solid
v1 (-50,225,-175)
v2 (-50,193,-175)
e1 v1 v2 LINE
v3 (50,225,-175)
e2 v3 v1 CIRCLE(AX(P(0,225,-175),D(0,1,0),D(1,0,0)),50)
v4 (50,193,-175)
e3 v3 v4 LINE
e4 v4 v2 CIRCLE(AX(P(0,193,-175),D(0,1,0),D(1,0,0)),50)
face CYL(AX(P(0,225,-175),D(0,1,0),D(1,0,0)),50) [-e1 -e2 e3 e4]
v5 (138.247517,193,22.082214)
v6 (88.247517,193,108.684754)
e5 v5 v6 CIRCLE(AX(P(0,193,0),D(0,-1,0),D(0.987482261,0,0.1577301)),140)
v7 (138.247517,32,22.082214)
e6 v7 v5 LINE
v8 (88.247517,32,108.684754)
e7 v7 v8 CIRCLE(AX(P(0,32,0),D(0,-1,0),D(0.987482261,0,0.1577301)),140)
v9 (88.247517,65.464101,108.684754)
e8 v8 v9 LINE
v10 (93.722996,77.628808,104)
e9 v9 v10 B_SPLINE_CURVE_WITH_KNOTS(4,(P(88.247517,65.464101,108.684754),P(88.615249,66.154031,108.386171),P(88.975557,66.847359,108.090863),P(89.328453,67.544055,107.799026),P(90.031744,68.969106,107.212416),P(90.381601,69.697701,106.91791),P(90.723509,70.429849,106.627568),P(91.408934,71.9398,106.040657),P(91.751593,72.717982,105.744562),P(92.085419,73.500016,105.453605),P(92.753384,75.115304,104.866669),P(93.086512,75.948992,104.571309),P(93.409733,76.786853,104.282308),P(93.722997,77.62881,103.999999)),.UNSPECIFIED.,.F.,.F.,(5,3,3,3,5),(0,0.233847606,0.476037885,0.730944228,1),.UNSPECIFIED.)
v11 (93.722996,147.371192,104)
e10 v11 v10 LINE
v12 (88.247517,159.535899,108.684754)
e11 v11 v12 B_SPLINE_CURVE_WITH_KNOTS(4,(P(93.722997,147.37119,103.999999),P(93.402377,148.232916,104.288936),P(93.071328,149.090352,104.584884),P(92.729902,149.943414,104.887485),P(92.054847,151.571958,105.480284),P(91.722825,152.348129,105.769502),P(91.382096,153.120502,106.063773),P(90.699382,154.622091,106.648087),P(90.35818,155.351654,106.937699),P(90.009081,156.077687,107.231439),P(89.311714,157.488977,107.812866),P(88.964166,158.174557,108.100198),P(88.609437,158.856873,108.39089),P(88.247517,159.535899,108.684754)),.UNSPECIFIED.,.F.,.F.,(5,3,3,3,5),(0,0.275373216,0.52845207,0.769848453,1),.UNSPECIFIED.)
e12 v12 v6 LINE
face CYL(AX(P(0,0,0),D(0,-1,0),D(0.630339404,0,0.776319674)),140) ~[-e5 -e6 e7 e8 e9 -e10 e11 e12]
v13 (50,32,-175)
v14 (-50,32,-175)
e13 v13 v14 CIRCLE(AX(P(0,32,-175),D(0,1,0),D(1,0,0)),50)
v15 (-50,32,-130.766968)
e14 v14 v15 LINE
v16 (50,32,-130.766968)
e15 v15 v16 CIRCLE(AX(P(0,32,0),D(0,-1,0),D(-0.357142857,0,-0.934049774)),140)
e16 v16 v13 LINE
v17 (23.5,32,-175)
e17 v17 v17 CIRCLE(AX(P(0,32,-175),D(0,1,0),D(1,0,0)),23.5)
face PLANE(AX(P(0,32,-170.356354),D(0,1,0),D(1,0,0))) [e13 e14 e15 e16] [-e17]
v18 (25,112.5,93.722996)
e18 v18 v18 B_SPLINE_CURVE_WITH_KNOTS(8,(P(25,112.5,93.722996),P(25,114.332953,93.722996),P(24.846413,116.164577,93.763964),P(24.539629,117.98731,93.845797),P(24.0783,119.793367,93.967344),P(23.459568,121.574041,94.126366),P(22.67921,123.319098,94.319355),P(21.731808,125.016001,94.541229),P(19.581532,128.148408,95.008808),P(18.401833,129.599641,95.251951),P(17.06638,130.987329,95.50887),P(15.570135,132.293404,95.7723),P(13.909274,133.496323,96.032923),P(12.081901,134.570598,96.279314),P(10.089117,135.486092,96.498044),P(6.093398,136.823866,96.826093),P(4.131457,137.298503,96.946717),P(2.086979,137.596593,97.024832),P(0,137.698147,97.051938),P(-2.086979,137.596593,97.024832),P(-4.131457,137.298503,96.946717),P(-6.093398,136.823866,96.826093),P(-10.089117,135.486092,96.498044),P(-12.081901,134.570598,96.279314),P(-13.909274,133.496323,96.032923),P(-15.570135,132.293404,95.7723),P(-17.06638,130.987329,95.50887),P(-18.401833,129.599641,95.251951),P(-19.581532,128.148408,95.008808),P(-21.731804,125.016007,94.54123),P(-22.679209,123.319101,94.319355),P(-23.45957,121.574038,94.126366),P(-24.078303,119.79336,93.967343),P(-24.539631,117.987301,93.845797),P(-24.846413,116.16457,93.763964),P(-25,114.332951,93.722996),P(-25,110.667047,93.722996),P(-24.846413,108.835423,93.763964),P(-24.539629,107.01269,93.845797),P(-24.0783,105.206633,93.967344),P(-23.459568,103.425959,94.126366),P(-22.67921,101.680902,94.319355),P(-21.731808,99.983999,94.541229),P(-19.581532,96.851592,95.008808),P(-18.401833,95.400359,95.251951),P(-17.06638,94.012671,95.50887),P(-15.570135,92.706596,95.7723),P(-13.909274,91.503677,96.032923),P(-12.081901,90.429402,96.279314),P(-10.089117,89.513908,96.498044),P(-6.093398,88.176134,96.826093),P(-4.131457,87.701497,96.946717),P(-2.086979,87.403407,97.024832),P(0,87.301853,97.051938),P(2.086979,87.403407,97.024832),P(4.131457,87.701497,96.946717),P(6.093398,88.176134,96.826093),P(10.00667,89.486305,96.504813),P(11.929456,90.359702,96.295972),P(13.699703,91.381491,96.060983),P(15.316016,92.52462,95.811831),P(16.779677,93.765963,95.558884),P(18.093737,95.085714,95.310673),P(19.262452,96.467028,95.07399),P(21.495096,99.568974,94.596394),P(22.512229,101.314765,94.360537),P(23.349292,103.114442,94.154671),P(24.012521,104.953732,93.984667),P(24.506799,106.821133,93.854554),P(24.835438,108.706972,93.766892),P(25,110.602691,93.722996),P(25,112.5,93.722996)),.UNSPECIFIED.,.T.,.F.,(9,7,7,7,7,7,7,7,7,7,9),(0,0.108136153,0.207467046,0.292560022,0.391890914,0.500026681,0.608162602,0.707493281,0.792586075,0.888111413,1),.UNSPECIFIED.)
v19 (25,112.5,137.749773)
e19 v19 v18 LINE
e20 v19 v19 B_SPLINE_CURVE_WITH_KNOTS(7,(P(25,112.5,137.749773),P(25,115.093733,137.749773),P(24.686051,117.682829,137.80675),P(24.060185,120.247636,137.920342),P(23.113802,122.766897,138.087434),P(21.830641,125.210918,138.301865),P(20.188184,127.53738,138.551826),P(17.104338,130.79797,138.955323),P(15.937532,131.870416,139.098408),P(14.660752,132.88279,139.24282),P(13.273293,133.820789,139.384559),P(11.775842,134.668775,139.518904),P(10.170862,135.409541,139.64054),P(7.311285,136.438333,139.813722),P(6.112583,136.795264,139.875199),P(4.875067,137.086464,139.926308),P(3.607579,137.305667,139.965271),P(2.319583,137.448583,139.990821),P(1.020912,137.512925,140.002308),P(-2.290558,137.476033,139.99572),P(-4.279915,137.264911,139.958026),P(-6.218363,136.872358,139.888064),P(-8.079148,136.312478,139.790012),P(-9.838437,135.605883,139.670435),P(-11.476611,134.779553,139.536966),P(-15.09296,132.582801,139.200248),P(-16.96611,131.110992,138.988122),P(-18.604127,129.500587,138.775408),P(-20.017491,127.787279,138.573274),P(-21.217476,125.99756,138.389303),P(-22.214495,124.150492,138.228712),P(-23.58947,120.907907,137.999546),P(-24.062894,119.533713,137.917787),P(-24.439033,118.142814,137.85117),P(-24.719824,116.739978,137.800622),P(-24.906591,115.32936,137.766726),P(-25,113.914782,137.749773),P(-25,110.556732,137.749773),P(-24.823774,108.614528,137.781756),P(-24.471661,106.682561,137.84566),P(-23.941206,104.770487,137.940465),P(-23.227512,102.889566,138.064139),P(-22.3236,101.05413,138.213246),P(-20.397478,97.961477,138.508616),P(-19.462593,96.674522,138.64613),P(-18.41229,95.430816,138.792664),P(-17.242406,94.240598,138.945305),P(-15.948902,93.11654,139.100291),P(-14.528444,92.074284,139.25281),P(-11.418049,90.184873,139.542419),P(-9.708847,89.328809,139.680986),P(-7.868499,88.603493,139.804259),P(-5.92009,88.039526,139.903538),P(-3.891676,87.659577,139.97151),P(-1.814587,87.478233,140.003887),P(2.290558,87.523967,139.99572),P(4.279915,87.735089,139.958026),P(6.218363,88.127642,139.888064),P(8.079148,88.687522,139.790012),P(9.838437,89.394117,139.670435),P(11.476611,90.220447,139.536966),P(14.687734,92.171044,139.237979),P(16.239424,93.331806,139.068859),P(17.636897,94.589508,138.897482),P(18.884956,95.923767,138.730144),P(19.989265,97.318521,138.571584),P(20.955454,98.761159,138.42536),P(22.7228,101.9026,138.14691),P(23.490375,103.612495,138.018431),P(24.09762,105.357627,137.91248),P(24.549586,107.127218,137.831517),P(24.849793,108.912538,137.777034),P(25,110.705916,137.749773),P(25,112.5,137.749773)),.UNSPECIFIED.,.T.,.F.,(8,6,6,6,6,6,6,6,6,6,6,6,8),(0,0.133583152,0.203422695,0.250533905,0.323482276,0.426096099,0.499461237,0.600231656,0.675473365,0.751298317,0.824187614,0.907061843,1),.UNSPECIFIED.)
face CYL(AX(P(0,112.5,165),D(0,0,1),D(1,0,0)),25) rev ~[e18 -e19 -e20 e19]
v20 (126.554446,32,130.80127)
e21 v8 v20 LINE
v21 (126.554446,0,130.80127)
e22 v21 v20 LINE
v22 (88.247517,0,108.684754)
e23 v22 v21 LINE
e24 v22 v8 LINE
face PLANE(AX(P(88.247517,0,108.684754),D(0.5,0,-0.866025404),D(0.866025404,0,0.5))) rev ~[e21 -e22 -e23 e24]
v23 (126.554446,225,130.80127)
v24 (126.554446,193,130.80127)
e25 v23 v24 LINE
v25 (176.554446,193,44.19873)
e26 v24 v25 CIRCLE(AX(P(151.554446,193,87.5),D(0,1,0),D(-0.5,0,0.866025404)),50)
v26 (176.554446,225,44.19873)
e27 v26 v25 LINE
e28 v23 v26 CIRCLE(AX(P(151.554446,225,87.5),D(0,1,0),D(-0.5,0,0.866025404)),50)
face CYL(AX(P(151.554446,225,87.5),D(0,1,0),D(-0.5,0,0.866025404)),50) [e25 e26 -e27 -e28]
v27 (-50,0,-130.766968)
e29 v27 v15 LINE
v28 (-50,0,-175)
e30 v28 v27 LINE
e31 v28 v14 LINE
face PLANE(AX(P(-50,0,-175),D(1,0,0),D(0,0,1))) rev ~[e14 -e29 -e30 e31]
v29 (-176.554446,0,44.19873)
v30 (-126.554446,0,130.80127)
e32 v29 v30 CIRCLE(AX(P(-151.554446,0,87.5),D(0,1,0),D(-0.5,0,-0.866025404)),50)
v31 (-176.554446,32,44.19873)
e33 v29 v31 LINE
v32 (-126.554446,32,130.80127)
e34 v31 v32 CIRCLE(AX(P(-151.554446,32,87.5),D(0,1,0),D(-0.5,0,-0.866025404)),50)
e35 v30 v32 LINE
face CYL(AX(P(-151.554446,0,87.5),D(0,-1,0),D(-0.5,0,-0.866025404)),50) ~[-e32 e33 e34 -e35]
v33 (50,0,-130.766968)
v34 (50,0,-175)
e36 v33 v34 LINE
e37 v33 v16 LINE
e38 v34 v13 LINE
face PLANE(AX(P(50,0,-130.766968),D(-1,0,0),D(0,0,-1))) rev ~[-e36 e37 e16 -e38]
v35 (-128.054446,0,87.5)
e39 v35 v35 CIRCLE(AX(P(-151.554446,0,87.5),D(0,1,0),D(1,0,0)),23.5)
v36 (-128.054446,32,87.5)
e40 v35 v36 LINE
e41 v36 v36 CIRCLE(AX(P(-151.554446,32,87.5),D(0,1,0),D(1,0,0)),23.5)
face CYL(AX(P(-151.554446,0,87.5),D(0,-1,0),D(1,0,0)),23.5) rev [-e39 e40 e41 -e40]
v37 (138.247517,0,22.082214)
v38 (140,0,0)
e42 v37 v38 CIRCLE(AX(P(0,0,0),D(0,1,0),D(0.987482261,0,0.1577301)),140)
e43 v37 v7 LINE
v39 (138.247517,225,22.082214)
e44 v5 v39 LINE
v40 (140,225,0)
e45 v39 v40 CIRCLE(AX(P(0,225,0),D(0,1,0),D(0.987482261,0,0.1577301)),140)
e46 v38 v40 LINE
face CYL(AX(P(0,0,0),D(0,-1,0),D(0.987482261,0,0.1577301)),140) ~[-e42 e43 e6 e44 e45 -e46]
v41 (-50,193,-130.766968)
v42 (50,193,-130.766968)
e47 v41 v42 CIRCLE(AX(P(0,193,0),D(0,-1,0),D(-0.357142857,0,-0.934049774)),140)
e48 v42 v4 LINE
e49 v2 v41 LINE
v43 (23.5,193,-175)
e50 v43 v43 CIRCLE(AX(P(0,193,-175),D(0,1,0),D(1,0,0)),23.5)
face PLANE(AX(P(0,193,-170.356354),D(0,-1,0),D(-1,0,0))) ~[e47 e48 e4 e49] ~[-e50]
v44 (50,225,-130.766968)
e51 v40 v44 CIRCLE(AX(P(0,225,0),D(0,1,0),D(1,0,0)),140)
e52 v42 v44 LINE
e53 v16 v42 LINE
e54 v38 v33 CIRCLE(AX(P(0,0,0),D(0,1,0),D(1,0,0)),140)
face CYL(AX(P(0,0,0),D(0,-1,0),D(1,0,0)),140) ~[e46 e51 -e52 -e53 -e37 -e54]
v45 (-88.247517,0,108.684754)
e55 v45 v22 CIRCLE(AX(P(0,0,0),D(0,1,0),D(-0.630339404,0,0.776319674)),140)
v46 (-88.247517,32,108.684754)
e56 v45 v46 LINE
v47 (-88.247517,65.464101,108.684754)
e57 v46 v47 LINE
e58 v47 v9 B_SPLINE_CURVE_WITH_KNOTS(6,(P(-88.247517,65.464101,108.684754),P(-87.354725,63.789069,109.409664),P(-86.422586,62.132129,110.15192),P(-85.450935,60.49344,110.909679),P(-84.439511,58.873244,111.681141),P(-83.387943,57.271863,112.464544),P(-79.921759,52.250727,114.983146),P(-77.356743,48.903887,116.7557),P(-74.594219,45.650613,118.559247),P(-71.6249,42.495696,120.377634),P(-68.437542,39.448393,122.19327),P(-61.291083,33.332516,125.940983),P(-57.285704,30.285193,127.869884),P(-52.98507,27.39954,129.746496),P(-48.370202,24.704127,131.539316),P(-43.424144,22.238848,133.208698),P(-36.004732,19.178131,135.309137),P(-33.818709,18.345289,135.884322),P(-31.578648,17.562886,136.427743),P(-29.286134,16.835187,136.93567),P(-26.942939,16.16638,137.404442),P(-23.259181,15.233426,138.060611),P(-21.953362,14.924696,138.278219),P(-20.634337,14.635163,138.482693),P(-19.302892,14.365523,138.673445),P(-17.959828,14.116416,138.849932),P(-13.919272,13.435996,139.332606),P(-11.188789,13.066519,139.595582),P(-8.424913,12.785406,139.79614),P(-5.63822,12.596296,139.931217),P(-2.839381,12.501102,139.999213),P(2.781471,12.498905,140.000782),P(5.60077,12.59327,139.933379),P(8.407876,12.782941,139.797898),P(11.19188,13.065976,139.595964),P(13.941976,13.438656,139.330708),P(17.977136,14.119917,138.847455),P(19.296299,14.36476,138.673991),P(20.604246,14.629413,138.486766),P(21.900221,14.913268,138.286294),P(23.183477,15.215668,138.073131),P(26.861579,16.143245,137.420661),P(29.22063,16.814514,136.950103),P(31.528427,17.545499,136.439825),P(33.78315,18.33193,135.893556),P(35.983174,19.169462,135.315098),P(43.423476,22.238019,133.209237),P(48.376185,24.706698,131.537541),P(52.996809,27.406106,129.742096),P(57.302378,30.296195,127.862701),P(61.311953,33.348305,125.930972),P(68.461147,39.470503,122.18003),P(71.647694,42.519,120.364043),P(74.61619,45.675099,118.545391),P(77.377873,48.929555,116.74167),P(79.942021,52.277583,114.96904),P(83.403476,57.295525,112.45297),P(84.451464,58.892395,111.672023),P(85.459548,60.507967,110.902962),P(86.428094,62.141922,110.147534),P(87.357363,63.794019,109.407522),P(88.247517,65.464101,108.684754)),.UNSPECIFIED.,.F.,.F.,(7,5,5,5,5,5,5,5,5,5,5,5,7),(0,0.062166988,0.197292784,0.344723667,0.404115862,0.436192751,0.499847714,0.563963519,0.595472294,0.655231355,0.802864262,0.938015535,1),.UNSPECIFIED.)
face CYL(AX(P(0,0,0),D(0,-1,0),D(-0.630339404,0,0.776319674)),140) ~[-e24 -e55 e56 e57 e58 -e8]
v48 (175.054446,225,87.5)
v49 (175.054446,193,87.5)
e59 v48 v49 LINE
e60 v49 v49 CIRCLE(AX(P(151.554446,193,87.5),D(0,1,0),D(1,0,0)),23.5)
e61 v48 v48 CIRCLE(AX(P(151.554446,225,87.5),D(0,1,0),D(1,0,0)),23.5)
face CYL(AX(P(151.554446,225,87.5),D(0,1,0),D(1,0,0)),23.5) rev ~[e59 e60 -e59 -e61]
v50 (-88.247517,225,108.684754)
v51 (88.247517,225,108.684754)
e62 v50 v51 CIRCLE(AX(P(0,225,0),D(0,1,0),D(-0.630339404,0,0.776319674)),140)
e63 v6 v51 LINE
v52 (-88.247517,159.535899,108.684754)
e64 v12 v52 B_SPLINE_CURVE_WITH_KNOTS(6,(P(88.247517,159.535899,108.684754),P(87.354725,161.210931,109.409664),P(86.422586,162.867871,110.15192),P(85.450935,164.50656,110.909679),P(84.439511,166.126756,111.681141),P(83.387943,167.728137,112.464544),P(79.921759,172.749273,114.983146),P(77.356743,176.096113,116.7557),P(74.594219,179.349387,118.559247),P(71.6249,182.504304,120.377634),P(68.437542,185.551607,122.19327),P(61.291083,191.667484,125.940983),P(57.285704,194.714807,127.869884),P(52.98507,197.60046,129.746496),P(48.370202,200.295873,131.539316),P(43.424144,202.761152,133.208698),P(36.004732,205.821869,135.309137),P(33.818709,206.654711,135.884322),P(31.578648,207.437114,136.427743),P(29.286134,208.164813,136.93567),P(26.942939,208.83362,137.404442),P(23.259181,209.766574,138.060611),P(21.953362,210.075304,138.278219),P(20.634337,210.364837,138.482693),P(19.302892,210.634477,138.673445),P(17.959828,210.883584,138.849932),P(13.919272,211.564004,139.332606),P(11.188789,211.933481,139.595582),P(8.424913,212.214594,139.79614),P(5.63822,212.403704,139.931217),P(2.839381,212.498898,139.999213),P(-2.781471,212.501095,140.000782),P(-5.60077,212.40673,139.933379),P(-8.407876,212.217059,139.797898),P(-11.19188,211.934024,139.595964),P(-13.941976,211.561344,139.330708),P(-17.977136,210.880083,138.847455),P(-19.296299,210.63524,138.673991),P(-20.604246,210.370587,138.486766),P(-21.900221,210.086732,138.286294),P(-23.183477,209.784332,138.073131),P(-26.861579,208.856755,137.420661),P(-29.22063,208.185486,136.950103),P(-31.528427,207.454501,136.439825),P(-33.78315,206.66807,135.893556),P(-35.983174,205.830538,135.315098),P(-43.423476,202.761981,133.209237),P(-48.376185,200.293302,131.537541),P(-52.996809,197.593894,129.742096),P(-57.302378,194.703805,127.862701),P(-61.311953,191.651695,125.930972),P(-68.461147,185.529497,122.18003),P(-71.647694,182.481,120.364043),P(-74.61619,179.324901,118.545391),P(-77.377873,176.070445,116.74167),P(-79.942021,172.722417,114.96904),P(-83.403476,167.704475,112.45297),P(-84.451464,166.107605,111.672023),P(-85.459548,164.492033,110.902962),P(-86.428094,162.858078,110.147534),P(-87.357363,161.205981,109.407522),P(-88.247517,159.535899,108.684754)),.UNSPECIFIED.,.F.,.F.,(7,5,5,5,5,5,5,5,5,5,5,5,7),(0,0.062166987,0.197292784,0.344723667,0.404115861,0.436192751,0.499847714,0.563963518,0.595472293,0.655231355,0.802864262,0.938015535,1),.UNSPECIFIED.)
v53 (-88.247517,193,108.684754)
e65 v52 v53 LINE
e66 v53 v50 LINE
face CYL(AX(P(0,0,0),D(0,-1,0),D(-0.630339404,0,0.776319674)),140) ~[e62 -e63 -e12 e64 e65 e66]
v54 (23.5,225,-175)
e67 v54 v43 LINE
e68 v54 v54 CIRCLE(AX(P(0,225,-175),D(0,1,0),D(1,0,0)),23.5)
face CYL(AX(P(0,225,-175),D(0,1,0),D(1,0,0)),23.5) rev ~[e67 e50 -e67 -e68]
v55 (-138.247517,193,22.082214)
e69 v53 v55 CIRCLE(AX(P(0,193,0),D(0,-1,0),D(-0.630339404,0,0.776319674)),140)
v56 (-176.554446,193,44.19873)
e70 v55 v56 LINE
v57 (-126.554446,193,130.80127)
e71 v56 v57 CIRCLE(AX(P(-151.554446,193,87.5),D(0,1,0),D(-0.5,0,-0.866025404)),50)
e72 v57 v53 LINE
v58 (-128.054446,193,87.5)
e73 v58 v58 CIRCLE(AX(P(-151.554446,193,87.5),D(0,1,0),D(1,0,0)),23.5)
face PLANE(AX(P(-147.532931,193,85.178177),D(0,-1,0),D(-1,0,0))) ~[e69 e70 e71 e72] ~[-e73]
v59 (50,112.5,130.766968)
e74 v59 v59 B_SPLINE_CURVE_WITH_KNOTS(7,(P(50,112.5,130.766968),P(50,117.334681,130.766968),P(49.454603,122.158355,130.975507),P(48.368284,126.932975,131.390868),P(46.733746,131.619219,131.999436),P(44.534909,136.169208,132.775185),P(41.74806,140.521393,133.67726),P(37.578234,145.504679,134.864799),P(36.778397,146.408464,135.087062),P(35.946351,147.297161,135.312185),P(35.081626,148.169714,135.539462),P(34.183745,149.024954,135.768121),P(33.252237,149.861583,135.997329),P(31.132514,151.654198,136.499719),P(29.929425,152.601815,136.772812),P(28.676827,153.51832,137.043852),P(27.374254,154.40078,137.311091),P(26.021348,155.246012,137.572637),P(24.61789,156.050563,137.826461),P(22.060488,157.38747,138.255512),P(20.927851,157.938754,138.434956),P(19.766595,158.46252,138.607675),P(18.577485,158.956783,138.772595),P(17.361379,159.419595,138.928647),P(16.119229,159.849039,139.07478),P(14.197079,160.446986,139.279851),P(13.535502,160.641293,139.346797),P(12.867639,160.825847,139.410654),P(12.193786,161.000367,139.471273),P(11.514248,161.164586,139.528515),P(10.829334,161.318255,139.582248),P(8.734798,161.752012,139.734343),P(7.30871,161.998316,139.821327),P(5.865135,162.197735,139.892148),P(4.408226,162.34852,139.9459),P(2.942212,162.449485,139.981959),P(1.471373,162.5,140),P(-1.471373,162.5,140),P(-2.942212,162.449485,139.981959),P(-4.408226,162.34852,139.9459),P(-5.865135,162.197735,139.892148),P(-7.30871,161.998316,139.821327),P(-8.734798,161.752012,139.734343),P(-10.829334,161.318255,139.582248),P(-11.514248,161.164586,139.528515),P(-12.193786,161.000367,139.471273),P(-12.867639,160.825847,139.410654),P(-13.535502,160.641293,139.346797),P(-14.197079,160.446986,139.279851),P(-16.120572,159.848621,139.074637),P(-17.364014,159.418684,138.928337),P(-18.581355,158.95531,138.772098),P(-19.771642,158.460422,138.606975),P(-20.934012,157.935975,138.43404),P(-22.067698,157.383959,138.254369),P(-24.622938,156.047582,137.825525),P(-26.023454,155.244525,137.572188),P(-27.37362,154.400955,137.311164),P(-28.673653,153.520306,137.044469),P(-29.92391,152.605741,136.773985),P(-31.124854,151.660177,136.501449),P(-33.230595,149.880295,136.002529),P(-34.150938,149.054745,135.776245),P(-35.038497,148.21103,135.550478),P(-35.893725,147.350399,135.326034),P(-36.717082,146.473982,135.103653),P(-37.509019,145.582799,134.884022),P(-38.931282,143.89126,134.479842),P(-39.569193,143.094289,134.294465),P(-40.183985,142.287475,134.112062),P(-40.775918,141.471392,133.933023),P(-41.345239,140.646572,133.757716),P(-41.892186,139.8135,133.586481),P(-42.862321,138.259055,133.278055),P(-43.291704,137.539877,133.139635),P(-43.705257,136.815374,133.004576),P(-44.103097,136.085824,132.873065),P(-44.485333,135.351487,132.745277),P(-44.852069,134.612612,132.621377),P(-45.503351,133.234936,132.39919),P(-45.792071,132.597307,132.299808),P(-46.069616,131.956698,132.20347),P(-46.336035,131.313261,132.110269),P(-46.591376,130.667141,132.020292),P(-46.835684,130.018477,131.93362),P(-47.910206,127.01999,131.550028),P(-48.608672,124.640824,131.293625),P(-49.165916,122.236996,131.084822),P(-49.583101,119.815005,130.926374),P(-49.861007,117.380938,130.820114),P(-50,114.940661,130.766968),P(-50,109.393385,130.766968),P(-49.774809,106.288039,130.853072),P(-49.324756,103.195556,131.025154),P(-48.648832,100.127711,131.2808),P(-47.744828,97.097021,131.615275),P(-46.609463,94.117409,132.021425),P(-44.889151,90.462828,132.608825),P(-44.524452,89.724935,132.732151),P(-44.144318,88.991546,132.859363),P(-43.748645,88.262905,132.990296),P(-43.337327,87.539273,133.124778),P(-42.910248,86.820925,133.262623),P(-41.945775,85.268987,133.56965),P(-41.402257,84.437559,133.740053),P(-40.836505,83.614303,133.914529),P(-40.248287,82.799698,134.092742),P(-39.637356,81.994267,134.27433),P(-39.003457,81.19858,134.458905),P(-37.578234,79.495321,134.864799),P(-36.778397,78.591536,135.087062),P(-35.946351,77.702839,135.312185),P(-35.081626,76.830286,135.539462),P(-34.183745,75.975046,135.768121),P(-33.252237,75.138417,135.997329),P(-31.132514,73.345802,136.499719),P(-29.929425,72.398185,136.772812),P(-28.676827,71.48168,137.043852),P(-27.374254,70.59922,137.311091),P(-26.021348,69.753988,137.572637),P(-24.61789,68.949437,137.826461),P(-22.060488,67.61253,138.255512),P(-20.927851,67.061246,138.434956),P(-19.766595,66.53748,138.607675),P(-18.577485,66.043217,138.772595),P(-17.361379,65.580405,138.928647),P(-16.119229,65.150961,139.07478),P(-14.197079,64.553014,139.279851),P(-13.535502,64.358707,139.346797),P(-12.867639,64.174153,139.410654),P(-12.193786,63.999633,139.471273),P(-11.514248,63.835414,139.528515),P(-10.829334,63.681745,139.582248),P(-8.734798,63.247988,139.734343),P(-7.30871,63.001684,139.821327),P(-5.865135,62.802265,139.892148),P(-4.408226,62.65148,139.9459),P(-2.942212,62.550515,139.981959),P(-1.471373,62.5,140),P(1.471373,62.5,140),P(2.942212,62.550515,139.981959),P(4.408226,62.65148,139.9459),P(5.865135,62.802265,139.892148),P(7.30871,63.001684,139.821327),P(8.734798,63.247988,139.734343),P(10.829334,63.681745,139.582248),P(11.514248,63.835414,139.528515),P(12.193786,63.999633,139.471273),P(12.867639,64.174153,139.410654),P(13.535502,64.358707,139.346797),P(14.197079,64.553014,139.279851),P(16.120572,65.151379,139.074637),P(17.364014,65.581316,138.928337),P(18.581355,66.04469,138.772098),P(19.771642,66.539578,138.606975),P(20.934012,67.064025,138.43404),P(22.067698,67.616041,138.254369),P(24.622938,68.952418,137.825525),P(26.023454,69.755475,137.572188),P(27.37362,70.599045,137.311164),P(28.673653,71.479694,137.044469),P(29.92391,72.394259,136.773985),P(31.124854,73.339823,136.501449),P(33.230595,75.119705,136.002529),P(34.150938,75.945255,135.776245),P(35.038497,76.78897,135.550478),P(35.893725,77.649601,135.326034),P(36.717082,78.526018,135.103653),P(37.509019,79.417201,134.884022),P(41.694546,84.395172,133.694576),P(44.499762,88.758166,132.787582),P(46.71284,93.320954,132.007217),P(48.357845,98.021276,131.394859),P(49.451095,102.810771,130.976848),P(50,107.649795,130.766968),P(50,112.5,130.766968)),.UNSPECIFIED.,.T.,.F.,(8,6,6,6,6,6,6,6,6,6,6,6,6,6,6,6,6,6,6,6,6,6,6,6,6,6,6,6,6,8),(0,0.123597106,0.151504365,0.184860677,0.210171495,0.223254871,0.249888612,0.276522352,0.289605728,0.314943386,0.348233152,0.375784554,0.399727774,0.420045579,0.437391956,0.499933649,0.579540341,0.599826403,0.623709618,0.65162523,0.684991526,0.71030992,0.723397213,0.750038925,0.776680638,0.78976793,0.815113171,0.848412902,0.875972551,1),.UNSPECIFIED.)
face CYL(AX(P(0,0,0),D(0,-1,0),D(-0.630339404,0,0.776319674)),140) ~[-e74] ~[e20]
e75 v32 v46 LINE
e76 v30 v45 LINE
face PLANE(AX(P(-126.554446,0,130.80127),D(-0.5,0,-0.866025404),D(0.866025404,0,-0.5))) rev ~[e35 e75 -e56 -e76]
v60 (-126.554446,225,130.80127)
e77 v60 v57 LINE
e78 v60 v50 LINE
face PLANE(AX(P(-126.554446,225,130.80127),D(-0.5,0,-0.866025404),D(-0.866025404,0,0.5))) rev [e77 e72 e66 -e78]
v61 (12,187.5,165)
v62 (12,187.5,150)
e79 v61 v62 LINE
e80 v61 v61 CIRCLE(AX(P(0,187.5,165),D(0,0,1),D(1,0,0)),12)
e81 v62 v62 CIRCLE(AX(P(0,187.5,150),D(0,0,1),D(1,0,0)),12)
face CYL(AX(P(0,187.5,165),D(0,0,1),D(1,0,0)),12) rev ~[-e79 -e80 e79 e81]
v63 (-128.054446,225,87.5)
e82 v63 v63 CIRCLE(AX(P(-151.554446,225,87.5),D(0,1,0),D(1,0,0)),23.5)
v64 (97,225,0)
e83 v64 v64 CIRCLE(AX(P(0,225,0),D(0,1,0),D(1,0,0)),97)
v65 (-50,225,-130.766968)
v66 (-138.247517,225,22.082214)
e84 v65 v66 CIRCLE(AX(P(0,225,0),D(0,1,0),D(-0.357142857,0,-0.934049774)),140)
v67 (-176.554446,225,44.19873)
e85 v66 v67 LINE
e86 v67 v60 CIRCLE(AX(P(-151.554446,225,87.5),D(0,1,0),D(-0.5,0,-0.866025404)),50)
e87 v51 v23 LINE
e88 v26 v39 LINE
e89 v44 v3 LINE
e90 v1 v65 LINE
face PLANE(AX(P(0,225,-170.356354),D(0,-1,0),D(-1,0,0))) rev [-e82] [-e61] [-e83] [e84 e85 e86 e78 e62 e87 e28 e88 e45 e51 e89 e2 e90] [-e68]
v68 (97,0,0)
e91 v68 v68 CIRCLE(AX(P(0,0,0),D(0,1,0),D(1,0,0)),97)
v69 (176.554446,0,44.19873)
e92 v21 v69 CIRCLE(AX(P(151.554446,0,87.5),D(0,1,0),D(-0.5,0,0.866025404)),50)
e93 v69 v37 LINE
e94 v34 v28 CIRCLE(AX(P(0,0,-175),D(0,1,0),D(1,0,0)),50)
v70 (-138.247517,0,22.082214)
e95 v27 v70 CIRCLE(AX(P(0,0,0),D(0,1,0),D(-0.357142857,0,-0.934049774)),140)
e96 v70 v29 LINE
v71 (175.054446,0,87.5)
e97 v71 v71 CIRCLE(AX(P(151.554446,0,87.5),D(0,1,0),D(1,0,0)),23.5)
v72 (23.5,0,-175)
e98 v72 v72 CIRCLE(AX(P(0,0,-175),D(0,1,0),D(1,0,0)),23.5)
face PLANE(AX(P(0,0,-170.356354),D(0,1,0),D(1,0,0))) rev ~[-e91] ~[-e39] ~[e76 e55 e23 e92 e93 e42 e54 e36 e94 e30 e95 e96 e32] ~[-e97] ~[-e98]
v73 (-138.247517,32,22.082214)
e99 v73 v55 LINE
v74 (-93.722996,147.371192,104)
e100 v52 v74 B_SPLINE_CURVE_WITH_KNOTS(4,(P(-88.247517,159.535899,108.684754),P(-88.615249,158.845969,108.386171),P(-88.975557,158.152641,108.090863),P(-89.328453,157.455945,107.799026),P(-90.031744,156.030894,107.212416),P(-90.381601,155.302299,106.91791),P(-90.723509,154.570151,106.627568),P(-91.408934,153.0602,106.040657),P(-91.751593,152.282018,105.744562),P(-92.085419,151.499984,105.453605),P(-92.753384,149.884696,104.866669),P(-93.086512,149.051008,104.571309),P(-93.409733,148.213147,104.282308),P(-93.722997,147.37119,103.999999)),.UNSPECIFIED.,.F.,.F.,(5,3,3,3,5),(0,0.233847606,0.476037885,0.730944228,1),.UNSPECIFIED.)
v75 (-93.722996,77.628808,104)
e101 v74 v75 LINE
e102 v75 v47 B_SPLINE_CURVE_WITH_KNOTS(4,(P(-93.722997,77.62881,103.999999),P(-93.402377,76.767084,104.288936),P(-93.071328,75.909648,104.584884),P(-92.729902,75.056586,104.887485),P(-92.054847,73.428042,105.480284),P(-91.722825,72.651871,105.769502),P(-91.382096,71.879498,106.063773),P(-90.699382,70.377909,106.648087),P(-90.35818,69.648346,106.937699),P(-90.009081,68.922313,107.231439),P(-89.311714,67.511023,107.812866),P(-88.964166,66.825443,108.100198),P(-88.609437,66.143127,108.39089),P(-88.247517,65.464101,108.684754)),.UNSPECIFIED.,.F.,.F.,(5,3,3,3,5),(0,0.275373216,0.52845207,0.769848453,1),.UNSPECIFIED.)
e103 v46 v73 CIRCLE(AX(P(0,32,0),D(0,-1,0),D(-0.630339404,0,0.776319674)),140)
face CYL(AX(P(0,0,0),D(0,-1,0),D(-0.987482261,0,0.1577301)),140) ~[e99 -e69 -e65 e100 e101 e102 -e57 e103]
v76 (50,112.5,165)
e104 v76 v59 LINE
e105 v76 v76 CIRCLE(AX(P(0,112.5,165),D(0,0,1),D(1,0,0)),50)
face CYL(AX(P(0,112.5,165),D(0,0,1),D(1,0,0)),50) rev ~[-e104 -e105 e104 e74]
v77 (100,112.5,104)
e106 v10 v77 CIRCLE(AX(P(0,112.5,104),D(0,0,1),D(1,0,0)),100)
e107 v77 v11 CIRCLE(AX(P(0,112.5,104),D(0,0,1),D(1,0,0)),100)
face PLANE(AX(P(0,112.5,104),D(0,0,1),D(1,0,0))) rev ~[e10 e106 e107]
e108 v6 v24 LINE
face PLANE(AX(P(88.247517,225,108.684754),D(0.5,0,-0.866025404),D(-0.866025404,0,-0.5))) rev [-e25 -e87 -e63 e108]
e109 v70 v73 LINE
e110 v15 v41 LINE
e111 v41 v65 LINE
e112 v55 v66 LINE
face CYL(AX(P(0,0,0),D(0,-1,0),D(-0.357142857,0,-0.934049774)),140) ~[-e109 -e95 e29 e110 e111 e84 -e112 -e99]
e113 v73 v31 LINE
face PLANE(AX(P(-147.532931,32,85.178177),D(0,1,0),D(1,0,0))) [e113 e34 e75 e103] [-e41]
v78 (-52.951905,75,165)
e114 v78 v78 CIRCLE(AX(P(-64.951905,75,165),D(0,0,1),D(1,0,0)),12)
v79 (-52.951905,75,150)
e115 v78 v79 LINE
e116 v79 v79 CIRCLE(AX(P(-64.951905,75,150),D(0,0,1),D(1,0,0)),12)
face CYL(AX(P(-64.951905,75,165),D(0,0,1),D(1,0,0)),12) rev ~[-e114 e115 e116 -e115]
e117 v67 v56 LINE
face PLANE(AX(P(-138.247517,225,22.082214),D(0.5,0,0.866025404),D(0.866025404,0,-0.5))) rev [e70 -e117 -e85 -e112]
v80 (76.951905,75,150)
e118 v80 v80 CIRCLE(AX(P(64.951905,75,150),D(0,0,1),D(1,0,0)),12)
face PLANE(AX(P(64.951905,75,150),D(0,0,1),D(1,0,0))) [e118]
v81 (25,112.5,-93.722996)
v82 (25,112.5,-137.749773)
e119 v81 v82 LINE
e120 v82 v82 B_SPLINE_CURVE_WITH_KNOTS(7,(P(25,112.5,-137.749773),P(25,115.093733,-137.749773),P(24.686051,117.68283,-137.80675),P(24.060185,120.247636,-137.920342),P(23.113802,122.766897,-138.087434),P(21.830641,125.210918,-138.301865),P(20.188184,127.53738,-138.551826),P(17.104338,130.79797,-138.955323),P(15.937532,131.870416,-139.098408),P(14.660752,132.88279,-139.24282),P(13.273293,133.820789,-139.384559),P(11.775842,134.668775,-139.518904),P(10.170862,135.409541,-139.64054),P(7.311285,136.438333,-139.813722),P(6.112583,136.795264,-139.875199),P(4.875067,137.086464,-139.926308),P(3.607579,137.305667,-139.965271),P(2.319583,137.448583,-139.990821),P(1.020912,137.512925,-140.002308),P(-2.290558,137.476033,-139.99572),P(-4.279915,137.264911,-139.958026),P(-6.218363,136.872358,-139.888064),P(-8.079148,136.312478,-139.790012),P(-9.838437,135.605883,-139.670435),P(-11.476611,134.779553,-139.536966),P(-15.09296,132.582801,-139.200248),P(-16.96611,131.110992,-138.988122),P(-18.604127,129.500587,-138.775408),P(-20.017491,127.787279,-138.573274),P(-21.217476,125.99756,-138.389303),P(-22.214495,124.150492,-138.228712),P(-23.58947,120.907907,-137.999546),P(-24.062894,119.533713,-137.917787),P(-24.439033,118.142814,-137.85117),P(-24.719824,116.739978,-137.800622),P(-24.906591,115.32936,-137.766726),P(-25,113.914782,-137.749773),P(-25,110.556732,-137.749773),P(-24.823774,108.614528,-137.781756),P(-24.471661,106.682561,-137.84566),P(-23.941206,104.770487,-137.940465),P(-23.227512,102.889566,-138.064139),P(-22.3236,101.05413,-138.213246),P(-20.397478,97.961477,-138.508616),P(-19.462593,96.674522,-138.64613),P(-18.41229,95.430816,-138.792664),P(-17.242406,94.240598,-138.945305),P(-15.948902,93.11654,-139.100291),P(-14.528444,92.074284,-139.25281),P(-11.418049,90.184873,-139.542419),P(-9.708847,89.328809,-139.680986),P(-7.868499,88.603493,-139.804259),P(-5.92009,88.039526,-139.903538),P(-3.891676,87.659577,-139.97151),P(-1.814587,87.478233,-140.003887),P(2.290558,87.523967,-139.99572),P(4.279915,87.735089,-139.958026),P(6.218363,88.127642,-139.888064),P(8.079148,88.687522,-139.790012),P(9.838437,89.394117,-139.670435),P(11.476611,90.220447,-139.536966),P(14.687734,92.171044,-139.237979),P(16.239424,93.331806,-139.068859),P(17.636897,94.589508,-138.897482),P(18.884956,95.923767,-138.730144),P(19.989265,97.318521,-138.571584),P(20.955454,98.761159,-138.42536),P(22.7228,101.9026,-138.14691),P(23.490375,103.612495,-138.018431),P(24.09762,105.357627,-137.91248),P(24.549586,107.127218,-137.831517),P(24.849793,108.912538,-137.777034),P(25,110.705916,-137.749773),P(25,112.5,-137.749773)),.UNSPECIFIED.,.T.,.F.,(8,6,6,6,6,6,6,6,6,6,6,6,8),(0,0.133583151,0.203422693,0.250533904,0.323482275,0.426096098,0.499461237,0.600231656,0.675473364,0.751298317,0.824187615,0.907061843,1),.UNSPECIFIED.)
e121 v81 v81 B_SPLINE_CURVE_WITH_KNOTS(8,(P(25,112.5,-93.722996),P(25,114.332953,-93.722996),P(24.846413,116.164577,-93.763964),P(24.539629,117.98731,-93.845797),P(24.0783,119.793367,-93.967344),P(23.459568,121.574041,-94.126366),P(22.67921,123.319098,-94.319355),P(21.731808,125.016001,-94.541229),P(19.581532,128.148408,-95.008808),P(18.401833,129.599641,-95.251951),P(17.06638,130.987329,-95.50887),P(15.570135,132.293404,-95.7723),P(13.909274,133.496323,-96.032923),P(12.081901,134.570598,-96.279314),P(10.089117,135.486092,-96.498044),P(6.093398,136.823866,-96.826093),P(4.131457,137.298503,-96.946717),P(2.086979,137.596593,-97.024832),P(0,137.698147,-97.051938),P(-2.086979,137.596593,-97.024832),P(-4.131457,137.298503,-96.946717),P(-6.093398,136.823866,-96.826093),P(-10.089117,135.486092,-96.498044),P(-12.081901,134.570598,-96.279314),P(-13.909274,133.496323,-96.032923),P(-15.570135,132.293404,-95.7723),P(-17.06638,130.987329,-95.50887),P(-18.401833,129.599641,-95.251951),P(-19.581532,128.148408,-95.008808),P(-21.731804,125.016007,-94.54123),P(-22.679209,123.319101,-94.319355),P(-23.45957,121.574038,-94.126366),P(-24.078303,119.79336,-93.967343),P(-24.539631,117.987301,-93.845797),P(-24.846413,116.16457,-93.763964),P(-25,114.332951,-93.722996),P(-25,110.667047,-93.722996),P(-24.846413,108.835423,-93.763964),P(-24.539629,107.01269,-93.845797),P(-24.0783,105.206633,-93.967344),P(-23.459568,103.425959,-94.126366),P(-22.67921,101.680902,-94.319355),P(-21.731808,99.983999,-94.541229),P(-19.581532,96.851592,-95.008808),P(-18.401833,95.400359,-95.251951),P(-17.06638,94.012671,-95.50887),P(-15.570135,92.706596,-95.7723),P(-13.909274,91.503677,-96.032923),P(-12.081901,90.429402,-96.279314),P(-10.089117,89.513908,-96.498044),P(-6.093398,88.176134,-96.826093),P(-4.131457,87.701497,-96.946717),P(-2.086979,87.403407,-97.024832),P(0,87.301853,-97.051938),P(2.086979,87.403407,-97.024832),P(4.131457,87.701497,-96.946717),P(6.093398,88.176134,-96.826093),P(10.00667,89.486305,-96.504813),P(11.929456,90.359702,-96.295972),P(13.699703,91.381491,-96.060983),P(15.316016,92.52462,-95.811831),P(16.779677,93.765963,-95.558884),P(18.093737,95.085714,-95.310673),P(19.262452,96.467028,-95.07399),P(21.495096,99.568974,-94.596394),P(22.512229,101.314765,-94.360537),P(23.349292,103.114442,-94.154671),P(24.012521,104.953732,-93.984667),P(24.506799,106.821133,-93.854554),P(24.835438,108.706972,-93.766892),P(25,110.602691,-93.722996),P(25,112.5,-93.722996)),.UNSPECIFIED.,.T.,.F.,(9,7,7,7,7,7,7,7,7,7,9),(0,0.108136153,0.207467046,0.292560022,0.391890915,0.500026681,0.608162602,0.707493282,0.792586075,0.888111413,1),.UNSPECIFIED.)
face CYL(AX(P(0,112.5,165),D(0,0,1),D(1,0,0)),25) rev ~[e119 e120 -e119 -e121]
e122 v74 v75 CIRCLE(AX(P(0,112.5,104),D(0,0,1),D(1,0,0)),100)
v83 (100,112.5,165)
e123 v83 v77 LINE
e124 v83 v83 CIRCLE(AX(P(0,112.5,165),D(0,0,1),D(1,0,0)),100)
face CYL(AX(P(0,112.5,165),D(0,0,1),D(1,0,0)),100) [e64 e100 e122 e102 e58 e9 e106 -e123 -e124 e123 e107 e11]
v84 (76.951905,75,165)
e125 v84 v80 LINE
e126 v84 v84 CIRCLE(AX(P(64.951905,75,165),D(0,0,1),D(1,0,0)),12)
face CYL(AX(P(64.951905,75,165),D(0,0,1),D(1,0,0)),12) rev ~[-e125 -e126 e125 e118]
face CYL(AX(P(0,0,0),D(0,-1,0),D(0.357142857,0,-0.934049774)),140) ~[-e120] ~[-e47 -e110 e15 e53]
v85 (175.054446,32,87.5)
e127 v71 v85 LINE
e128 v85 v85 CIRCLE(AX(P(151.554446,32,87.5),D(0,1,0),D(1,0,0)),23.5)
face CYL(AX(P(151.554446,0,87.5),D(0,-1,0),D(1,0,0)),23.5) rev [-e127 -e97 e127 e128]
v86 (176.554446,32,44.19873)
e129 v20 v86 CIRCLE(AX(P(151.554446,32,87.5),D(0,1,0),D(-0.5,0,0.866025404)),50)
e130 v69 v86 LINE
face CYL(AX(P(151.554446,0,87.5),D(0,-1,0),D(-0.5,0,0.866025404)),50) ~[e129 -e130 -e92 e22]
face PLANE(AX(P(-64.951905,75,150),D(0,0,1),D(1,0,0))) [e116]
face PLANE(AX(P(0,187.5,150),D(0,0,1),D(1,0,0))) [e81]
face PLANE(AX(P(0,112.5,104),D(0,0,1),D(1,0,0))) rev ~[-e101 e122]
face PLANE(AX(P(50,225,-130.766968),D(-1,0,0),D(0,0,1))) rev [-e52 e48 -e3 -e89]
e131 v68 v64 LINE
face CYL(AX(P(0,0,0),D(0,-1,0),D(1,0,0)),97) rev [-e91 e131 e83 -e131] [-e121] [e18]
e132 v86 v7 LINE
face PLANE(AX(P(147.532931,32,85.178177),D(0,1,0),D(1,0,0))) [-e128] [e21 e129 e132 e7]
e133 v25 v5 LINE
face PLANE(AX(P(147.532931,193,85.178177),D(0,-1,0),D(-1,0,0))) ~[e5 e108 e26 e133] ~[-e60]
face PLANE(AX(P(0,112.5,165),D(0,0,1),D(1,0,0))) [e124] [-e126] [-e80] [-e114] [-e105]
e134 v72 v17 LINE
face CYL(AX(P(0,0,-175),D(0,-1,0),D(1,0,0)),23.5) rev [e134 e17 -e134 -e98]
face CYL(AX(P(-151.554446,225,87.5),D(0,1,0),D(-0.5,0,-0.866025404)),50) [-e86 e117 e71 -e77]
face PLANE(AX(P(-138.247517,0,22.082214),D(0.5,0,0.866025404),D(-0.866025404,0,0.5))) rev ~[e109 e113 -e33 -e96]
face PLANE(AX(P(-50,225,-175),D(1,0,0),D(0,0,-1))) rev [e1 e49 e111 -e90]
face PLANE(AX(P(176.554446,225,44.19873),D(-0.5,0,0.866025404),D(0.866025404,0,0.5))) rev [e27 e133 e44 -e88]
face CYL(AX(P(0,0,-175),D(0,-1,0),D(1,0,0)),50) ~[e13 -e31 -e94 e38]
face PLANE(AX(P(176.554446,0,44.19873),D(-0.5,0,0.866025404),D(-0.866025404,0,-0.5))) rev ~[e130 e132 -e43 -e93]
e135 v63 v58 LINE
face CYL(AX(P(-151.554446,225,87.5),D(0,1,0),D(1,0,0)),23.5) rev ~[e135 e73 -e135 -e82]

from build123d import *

# Parameters (mm, degrees)
SKETCH1_R            = 97
BOSS_EXTRUDE7_DEPTH  = 225
SKETCH1_5_R          = 23.5
BOSS_EXTRUDE9_DEPTH  = 32
SKETCH2_R            = 100
SKETCH2_R_2          = 50
BOSS_EXTRUDE11_DEPTH = 61
SKETCH2_4_R          = 12
CUT_EXTRUDE1_DEPTH   = 15
SKETCH2_5_R          = 25
CUT_EXTRUDE2_DEPTH   = 547


with BuildPart() as part:
    # Sketch1 → Boss-Extrude7 (new body)
    with BuildSketch(Plane(origin=(0, 0, 0), x_dir=(1, 0, 0), z_dir=(0, 1, 0))):
        with BuildLine():
            ThreePointArc((140, 0), (115.325625947, 79.372539332), (50, 130.766968306))
            ThreePointArc((50, 130.766968306), (0, 140), (-50, 130.766968306))
            ThreePointArc((-50, 130.766968306), (-121.24355653, 70), (-138.247516529, -22.082213964))
            ThreePointArc((-138.247516529, -22.082213964), (-121.24355653, -70), (-88.247516529, -108.684754342))
            ThreePointArc((-88.247516529, -108.684754342), (0, -140), (88.247516529, -108.684754342))
            ThreePointArc((88.247516529, -108.684754342), (121.24355653, -70), (138.247516529, -22.082213964))
            ThreePointArc((138.247516529, -22.082213964), (139.561191443, -11.075822451), (140, 0))
        make_face()
        Circle(SKETCH1_R, mode=Mode.SUBTRACT)
    extrude(amount=BOSS_EXTRUDE7_DEPTH)

    # Sketch1<5> → Boss-Extrude9 (add)
    # profile 1 of 3: a face of its own
    with BuildSketch(Plane(origin=(0, 0, 0), x_dir=(1, 0, 0), z_dir=(0, 1, 0))):
        with BuildLine():
            Line((50, 130.766968306), (50, 175))
            ThreePointArc((50, 175), (0, 225), (-50, 175))
            Line((-50, 175), (-50, 130.766968306))
            ThreePointArc((-50, 130.766968306), (0, 140), (50, 130.766968306))
        make_face()
        with Locations((0, 175)):
            Circle(SKETCH1_5_R, mode=Mode.SUBTRACT)
    # profile 2 of 3: a face of its own
    with BuildSketch(Plane(origin=(0, 0, 0), x_dir=(1, 0, 0), z_dir=(0, 1, 0))):
        with BuildLine():
            Line((176.554445662, -44.198729811), (138.247516529, -22.082213964))
            ThreePointArc((138.247516529, -22.082213964), (121.24355653, -70), (88.247516529, -108.684754342))
            Line((88.247516529, -108.684754342), (126.554445662, -130.801270189))
            ThreePointArc((126.554445662, -130.801270189), (194.855715852, -112.5), (176.554445662, -44.198729811))
        make_face()
        with Locations((151.554445662, -87.5)):
            Circle(SKETCH1_5_R, mode=Mode.SUBTRACT)
    # profile 3 of 3: a face of its own
    with BuildSketch(Plane(origin=(0, 0, 0), x_dir=(1, 0, 0), z_dir=(0, 1, 0))):
        with BuildLine():
            ThreePointArc((-88.247516529, -108.684754342), (-121.24355653, -70), (-138.247516529, -22.082213964))
            Line((-138.247516529, -22.082213964), (-176.554445662, -44.198729811))
            ThreePointArc((-176.554445662, -44.198729811), (-194.855715851, -112.5), (-126.554445662, -130.801270189))
            Line((-126.554445662, -130.801270189), (-88.247516529, -108.684754342))
        make_face()
        with Locations((-151.554445662, -87.5)):
            Circle(SKETCH1_5_R, mode=Mode.SUBTRACT)
    boss_extrude9 = extrude(amount=BOSS_EXTRUDE9_DEPTH)

    # Mirror1: Boss-Extrude9 across plane
    add(boss_extrude9.mirror(Plane.ZX.offset(112.5)))

    # Sketch2 → Boss-Extrude11 (add)
    with BuildSketch(Plane.XY.offset(165)):
        with Locations((0, 112.5)):
            Circle(SKETCH2_R)
        with Locations((0, 112.5)):
            Circle(SKETCH2_R_2, mode=Mode.SUBTRACT)
    extrude(amount=-BOSS_EXTRUDE11_DEPTH)

    # Sketch2<4> → Cut-Extrude1 (cut)
    with BuildSketch(Plane.XY.offset(165)):
        with Locations((0, 187.5)):
            Circle(SKETCH2_4_R)
        with Locations((64.951905284, 75)):
            Circle(SKETCH2_4_R)
        with Locations((-64.951905284, 75)):
            Circle(SKETCH2_4_R)
    extrude(amount=-CUT_EXTRUDE1_DEPTH, mode=Mode.SUBTRACT)

    # Sketch2<5> → Cut-Extrude2 (cut)
    with BuildSketch(Plane.XY.offset(165)):
        with Locations((0, 112.5)):
            Circle(SKETCH2_5_R)
    extrude(amount=-CUT_EXTRUDE2_DEPTH, mode=Mode.SUBTRACT)


solid = part.part
